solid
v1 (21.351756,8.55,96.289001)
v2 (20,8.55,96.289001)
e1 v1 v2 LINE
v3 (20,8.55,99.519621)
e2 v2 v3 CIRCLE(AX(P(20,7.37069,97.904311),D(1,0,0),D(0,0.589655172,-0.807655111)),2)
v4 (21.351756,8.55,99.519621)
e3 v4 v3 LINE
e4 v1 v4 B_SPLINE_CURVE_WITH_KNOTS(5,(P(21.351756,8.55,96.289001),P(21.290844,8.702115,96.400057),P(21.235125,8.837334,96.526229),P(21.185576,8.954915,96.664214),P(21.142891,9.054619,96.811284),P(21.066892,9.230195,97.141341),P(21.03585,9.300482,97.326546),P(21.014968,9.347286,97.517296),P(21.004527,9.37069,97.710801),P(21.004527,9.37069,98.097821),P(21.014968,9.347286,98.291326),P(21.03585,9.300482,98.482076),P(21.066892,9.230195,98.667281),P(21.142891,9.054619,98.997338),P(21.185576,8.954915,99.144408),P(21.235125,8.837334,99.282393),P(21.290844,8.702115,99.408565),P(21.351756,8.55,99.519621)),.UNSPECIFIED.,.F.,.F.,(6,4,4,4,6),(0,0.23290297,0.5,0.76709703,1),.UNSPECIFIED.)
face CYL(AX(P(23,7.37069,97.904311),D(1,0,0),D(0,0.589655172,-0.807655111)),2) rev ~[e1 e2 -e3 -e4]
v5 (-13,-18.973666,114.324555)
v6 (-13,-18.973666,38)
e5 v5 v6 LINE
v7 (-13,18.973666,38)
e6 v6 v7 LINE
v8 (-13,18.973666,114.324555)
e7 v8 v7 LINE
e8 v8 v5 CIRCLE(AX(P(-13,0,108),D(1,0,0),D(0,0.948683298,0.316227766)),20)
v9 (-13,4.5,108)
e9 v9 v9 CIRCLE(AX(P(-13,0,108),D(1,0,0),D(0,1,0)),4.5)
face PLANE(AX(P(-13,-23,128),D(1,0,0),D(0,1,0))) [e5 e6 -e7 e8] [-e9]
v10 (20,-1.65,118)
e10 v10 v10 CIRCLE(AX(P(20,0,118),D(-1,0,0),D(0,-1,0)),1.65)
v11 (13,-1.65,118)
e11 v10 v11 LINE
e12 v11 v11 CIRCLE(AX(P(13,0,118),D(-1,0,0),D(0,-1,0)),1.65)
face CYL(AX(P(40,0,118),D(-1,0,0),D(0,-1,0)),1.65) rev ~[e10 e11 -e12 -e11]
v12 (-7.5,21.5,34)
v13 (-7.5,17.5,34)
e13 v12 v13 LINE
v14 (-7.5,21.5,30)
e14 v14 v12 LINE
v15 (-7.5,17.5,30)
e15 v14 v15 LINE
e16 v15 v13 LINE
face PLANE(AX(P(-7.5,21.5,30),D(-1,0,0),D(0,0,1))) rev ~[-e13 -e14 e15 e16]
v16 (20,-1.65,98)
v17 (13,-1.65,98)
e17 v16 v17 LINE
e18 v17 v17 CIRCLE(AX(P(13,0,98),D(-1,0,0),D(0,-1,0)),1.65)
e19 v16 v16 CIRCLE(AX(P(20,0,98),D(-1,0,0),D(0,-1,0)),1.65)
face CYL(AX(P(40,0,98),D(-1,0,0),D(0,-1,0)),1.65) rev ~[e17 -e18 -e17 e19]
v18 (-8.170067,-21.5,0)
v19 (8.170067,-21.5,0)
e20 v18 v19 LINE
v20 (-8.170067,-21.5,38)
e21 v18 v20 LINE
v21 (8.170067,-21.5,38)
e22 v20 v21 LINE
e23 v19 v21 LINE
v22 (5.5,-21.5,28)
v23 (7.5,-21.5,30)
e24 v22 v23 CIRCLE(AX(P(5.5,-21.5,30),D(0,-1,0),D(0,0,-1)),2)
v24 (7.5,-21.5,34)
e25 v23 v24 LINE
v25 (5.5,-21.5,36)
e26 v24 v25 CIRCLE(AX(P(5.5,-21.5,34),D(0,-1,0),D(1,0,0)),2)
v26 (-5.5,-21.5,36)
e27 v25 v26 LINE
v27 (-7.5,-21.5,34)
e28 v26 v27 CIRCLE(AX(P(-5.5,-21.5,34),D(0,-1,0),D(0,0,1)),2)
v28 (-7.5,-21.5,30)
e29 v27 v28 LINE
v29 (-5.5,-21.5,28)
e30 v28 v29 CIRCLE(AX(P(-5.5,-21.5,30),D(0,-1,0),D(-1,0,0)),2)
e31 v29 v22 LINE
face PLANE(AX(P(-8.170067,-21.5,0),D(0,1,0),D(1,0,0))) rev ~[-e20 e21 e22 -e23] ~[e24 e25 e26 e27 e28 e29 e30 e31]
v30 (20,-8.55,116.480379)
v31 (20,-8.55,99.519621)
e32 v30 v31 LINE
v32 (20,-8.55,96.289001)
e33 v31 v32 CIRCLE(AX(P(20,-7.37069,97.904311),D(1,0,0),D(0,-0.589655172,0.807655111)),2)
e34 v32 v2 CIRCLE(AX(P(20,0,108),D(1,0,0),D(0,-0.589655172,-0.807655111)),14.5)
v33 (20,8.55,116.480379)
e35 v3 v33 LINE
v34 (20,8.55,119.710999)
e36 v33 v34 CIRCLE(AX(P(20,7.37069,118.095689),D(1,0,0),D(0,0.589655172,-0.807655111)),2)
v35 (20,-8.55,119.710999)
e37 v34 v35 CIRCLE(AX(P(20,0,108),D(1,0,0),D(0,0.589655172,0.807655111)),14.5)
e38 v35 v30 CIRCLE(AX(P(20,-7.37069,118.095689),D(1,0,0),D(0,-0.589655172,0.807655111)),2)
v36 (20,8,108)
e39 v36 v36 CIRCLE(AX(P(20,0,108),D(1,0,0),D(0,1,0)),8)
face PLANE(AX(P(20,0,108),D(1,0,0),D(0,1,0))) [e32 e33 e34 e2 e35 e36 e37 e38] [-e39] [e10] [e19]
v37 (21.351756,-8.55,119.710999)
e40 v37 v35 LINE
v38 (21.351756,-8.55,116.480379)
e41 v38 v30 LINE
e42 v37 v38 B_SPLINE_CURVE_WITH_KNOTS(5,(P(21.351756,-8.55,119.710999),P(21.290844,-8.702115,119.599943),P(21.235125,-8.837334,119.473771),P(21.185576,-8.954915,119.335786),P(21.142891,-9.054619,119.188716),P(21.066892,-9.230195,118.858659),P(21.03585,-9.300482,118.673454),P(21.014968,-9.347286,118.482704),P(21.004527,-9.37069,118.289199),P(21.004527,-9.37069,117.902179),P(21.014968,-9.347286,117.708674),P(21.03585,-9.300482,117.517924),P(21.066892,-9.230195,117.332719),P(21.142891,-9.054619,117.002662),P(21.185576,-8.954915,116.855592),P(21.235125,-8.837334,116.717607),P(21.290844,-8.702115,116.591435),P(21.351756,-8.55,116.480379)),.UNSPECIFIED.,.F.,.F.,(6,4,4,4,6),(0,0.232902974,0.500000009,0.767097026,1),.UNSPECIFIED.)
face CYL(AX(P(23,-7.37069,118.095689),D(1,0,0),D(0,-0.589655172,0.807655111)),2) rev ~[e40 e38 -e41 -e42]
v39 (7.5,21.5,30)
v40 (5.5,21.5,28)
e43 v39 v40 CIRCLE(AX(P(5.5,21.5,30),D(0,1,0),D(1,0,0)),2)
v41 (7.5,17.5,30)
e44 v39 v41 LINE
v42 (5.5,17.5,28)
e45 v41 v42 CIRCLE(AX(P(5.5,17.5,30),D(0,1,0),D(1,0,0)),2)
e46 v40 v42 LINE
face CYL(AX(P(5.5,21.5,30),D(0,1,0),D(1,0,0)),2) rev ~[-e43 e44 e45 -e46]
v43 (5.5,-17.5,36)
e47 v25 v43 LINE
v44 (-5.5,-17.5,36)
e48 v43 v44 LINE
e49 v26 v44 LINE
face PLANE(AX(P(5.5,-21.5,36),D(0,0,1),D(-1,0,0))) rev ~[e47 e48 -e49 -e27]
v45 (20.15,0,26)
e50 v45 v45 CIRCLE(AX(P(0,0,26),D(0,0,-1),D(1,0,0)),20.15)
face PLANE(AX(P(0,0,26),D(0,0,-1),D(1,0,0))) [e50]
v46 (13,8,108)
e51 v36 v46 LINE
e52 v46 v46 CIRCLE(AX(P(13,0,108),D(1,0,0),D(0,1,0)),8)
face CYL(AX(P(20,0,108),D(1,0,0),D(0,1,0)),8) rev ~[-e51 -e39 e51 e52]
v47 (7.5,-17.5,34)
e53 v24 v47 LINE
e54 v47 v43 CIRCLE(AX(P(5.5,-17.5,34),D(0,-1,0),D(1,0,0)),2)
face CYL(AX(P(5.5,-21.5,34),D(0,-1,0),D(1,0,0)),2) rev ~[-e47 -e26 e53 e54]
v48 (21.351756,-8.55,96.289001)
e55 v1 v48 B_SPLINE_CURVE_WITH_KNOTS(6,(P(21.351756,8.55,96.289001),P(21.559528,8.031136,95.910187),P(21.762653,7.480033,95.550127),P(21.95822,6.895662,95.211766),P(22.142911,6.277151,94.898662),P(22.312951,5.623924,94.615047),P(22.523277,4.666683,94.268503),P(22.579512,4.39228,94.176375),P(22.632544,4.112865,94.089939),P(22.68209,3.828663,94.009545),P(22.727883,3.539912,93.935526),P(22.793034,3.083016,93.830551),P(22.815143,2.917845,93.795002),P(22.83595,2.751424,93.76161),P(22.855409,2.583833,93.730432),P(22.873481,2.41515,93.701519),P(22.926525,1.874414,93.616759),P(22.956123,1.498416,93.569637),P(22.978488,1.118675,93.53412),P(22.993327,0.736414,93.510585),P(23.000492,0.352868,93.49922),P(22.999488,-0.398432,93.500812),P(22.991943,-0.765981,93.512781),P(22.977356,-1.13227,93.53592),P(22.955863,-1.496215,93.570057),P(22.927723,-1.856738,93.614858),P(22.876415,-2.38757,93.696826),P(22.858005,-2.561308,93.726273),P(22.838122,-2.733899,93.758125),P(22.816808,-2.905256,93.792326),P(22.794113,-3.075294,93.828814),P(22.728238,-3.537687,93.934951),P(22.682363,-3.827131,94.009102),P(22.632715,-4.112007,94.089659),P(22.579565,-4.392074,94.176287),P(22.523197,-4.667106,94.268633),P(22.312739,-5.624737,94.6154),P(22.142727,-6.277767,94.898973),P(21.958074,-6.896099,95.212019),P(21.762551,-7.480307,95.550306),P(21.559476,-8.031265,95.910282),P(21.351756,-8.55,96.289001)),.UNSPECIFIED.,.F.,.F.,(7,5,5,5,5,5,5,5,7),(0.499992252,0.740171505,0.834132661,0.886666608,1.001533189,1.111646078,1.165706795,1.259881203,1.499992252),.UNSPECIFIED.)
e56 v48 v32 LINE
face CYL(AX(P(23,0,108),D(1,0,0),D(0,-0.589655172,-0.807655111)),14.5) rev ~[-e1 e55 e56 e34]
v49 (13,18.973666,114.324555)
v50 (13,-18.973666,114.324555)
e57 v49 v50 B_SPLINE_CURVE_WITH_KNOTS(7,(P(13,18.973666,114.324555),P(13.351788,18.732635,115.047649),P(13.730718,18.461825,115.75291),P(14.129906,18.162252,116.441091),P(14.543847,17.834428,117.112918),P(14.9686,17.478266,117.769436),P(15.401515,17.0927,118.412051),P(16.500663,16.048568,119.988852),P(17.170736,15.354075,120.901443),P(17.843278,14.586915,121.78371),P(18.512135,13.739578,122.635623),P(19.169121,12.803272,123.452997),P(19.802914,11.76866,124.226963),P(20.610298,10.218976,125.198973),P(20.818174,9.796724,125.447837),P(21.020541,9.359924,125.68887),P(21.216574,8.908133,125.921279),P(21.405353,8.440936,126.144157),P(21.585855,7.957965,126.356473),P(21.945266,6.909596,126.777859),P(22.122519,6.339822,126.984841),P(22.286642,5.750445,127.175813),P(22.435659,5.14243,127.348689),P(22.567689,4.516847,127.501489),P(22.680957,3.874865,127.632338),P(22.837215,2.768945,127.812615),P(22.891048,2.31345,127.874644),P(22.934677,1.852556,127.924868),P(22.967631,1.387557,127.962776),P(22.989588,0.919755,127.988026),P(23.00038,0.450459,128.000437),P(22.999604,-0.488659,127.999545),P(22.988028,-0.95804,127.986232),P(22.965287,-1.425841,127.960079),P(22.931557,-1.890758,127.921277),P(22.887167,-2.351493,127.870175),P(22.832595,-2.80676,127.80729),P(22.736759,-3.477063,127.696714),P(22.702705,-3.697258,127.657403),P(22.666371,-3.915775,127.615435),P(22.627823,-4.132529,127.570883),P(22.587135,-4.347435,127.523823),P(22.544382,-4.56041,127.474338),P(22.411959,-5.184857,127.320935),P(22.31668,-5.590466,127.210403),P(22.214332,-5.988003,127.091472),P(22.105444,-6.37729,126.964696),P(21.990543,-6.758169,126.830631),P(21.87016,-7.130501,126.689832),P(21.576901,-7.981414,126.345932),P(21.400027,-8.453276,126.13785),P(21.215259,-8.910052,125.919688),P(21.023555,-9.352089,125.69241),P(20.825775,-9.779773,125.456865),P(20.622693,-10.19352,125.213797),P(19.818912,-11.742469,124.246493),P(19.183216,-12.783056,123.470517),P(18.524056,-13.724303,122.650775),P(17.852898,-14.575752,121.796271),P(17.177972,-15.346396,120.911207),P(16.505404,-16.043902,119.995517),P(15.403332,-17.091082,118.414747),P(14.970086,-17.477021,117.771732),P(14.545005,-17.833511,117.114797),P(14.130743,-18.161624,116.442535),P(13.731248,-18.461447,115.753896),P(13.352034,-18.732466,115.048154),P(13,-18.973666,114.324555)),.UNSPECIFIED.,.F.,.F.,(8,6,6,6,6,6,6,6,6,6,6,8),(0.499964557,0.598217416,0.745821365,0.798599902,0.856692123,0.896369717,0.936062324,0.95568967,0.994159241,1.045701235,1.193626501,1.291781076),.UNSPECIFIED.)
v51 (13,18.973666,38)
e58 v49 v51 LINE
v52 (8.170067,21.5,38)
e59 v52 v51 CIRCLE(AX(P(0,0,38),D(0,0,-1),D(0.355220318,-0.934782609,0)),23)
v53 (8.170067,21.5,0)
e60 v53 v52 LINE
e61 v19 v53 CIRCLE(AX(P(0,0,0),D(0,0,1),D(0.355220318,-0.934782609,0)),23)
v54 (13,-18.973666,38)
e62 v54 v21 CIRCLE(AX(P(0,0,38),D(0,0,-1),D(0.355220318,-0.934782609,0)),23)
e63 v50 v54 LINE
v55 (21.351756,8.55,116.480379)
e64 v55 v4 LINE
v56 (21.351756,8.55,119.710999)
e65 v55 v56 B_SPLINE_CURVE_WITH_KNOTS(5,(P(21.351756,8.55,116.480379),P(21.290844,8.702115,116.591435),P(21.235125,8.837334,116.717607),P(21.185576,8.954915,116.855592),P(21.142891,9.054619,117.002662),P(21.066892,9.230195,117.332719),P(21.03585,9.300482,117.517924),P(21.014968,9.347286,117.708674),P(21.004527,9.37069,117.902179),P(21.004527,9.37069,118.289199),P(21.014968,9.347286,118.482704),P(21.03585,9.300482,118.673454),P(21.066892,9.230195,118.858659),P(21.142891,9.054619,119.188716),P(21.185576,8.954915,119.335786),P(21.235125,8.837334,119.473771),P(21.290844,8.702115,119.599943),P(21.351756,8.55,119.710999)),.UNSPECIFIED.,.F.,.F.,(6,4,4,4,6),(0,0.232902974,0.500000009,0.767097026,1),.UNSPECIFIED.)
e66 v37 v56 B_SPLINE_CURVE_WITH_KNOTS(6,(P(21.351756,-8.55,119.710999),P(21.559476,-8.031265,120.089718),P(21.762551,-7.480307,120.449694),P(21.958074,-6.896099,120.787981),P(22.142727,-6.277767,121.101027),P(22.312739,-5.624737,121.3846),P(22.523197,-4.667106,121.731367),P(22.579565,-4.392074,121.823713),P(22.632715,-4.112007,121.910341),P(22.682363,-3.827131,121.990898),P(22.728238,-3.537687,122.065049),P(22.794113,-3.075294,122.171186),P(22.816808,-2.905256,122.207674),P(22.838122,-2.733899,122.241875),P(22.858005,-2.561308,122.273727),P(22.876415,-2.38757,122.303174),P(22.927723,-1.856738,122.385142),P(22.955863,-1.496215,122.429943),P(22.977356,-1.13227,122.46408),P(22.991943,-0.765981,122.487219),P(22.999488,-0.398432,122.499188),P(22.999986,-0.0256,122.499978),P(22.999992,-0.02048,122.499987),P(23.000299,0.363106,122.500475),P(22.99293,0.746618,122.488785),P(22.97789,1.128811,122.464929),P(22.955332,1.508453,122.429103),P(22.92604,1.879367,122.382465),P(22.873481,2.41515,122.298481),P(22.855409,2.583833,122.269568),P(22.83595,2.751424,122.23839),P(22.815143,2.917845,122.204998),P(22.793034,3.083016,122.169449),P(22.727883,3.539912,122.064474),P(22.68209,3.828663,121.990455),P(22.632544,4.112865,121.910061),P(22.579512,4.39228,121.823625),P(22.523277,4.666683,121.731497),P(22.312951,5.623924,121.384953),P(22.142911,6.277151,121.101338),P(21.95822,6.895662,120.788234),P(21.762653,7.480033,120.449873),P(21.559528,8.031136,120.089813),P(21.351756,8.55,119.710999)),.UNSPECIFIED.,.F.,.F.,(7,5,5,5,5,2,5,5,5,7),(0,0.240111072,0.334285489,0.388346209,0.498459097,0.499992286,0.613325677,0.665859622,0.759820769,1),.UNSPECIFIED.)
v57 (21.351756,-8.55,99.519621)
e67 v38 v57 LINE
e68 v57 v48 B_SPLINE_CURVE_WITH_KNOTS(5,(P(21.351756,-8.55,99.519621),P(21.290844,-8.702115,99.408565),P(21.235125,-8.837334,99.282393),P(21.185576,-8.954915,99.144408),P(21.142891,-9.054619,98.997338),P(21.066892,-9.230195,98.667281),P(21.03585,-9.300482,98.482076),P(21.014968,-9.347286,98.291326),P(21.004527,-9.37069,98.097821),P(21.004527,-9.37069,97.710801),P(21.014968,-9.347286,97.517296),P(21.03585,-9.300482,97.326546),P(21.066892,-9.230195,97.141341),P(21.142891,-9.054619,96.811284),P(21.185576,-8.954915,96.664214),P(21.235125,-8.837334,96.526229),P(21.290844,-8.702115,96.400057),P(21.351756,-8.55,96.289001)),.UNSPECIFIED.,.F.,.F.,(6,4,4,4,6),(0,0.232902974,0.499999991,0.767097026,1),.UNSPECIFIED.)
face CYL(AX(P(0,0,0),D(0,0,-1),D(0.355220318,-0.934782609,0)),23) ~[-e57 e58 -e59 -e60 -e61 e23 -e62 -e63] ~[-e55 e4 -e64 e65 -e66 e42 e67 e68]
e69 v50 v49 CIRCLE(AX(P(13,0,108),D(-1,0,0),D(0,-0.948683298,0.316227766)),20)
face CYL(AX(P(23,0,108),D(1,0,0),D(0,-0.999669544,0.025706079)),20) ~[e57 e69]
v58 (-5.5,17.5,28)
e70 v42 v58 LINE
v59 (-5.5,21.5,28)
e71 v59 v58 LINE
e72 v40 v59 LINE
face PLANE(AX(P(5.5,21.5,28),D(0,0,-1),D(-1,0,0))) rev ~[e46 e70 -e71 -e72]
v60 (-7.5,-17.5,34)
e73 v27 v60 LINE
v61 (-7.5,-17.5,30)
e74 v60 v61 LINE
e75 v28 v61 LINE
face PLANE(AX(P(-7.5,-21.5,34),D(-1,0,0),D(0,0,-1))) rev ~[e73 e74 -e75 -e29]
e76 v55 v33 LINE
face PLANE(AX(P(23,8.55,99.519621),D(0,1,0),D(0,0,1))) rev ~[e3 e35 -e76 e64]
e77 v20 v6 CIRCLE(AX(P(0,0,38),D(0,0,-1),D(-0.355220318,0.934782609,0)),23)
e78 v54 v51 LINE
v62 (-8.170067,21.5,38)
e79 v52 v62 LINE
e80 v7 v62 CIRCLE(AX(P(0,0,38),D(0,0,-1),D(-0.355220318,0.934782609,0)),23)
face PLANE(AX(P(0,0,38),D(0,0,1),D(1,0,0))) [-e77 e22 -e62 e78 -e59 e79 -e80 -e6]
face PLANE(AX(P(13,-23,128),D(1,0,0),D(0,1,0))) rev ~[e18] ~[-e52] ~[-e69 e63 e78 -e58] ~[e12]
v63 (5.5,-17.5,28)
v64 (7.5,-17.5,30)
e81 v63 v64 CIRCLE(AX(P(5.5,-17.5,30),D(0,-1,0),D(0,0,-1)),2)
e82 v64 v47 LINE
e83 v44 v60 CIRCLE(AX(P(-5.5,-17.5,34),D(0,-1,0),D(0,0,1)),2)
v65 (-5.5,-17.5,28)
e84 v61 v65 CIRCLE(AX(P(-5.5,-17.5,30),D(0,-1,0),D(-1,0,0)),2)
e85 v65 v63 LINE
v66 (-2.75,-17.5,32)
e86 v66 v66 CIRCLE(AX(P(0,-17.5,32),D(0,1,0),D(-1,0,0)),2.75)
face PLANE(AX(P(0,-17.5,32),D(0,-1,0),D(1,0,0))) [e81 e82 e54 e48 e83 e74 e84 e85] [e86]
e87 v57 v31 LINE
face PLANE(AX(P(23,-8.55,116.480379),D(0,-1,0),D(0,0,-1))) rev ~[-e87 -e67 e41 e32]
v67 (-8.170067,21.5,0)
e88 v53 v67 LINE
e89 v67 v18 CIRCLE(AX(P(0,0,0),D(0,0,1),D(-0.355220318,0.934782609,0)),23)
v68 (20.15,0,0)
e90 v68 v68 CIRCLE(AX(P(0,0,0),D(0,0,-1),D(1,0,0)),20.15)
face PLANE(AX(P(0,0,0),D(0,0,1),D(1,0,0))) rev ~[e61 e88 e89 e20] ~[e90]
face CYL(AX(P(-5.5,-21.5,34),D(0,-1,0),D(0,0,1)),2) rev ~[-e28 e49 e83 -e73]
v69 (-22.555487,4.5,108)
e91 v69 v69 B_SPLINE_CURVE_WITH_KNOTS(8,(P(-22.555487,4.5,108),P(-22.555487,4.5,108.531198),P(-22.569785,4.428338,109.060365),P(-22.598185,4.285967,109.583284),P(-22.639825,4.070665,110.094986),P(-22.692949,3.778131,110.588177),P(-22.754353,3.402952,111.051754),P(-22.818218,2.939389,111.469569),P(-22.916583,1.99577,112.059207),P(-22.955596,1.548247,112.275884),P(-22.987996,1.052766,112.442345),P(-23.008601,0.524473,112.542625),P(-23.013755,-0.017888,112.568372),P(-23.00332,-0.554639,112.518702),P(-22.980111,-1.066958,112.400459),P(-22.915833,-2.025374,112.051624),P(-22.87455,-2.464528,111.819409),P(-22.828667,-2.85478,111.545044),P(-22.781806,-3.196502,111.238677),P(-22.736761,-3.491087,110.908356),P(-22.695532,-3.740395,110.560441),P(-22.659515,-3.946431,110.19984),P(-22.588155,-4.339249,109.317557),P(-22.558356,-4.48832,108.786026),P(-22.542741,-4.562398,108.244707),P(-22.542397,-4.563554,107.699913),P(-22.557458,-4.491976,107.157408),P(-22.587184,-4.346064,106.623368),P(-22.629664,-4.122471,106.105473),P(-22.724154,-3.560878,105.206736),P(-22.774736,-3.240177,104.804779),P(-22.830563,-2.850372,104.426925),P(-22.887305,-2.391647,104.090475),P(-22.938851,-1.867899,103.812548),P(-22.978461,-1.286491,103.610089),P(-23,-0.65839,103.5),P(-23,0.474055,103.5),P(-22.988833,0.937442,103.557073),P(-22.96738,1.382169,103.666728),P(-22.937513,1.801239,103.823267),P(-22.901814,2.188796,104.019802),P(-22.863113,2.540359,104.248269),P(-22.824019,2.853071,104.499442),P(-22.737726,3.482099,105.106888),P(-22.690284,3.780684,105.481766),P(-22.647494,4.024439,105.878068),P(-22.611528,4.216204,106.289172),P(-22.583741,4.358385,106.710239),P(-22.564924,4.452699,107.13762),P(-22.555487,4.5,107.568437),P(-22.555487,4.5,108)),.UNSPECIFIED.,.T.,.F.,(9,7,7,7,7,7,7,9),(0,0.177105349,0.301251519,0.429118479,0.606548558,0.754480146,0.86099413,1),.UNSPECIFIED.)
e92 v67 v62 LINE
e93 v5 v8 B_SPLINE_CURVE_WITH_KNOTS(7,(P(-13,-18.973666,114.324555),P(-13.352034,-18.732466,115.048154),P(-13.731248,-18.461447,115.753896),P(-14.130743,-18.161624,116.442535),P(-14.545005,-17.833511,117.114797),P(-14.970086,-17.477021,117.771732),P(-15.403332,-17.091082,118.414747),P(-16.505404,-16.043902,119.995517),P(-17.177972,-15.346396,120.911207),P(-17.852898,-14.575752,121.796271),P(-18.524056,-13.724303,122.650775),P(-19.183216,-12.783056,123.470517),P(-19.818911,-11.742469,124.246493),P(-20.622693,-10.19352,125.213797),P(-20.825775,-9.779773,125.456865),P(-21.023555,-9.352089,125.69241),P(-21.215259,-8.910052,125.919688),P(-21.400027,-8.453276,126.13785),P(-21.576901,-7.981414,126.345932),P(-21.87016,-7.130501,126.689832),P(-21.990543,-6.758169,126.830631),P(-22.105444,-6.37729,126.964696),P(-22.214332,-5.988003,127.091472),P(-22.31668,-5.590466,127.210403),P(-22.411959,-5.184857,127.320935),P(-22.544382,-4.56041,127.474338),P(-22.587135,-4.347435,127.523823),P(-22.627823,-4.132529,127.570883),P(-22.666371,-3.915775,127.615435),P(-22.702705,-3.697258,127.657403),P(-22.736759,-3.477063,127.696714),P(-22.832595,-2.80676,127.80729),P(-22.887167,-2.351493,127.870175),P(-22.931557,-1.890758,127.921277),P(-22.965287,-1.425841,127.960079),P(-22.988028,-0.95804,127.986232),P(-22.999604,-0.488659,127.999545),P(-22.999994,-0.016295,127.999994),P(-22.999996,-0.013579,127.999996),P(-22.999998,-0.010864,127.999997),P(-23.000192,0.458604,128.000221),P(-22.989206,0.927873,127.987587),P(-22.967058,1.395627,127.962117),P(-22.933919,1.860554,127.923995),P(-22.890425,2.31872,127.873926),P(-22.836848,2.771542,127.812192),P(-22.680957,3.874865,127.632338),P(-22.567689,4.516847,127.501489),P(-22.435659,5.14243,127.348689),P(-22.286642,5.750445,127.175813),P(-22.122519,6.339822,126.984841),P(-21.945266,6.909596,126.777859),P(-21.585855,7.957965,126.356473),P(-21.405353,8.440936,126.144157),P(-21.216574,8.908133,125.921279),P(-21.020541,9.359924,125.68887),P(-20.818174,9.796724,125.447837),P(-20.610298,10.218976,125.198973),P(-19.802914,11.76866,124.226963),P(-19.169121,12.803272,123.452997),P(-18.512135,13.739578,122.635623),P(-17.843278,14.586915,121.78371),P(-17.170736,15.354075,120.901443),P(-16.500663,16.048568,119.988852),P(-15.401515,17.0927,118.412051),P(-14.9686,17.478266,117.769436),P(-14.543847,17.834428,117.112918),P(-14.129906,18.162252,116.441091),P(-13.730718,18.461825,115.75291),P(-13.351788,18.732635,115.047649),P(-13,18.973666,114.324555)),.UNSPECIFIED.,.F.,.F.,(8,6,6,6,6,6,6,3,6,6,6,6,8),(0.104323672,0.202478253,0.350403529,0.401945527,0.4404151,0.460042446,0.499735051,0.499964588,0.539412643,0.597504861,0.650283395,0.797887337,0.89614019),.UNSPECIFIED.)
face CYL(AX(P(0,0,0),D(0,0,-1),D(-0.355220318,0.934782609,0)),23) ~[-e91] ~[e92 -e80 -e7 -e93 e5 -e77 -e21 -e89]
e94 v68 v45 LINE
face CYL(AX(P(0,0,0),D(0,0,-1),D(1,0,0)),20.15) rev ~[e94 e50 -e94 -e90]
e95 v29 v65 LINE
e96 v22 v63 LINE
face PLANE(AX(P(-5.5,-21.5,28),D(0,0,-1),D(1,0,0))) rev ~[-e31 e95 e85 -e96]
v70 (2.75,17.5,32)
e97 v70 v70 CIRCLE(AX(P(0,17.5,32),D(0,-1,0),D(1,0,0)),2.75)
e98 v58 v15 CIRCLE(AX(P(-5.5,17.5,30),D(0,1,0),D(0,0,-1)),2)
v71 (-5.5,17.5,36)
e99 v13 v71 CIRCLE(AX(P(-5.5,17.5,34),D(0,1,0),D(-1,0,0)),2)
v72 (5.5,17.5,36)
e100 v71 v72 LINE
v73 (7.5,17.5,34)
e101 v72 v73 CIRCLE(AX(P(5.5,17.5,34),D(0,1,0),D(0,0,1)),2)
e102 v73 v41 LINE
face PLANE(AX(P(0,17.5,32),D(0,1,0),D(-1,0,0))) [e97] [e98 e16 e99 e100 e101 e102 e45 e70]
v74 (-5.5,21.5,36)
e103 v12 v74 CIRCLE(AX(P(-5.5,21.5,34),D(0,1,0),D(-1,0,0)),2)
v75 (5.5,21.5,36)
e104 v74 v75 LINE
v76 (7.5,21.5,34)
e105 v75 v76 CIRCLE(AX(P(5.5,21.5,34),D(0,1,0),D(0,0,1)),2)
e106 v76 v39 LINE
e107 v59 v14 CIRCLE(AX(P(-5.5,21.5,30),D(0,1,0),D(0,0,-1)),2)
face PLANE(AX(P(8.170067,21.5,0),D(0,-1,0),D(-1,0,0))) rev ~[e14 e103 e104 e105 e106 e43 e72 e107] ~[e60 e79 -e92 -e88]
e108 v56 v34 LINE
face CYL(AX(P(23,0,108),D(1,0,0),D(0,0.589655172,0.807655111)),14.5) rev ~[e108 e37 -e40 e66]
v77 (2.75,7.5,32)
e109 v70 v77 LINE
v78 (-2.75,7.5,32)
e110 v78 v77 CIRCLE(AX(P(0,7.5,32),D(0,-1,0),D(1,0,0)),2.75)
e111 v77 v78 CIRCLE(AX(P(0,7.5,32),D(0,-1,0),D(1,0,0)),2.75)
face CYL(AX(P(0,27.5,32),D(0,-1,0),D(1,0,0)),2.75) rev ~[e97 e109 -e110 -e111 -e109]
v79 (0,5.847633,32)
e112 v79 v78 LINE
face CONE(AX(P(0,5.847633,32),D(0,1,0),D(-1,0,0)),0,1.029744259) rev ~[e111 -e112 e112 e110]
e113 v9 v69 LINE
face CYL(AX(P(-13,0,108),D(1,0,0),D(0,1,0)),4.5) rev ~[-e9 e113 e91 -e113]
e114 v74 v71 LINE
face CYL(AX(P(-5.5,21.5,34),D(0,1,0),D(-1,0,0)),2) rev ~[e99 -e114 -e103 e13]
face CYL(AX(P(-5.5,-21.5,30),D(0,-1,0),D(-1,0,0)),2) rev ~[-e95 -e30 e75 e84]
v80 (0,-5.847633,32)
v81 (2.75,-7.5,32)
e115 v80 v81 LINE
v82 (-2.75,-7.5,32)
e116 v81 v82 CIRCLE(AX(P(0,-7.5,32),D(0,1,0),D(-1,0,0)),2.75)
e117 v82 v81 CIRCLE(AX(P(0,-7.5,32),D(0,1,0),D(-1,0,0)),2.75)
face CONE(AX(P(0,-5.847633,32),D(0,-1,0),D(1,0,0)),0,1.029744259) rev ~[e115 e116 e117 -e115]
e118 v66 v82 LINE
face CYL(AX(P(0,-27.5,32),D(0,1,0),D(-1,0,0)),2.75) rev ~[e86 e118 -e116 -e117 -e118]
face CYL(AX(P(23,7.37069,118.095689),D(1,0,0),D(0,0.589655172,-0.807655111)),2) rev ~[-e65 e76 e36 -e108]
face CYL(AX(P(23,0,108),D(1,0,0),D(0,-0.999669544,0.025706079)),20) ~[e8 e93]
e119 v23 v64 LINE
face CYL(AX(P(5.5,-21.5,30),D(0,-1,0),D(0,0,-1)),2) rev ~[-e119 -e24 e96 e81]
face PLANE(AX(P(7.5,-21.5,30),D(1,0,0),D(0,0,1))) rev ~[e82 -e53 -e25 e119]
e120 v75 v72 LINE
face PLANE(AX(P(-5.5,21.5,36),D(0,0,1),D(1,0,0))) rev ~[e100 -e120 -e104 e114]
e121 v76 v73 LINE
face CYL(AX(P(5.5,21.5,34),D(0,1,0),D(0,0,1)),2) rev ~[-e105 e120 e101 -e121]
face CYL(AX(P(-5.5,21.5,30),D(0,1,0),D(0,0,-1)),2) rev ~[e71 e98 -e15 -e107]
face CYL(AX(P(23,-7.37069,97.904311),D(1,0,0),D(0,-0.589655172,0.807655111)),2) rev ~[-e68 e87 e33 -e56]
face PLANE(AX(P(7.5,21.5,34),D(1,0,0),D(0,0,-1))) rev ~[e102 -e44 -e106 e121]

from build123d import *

# Parameters (mm, degrees)
F1_DEPTH  = 128
F3_W      = 26
F3_H      = 46
F4_DEPTH  = 90
F6_DEPTH  = 46.001
F8_DEPTH  = 3
F10_D     = 3.3
F10_DEPTH = 20
F10_TIP   = 0.9914200214
F11_R     = 8
F12_DEPTH = 25
F13_R     = 4.5
F14_DEPTH = 10.0010001
F15_R     = 20.15
F16_DEPTH = 26
F18_DEPTH = 4
F20_D     = 5.5
F20_DEPTH = 10
F20_TIP   = 1.6523667023
F22_DEPTH = 4
F24_D     = 5.5
F24_DEPTH = 10
F24_TIP   = 1.6523667023


with BuildPart() as f1:
    # F0 (on Top) → F1 (new body)
    with BuildSketch(Plane.XY):
        with BuildLine():
            Line((8.1700673192, 21.5), (-8.1700673192, 21.5))
            ThreePointArc((-8.1700673192, 21.5), (-23, 0), (-8.1700673192, -21.5))
            Line((-8.1700673192, -21.5), (8.1700673192, -21.5))
            ThreePointArc((8.1700673192, -21.5), (23, 0), (8.1700673192, 21.5))
        make_face()
    extrude(amount=F1_DEPTH)

    # F3 (on face) → F4 (cut)
    with BuildSketch(Plane.XY.offset(128)):
        Rectangle(F3_W, F3_H)
    extrude(amount=-F4_DEPTH, mode=Mode.SUBTRACT)

    # F5 (on offset) → F6 (cut, through all)
    with BuildSketch(Plane.YZ.offset(23)):
        with BuildLine():
            ThreePointArc((-19.9933908829, 108.5141215848), (-0.0190112138, 127.9999909643), (19.9923773451, 108.5521305014))
            Line((19.9923773451, 108.5521305014), (24.1833440959, 131.3719953258))
            Line((24.1833440959, 131.3719953258), (-19.9933908829, 131.3719953258))
            Line((-19.9933908829, 131.3719953258), (-19.9933908829, 108.5141215848))
        make_face()
    extrude(amount=-F6_DEPTH, mode=Mode.SUBTRACT)

    # F7 (on offset) → F8 (cut)
    with BuildSketch(Plane.YZ.offset(23)):
        with BuildLine():
            ThreePointArc((-8.55, 99.5196213389), (-9.3706896552, 97.9043111178), (-8.55, 96.2890008966))
            ThreePointArc((-8.55, 96.2890008966), (0, 93.5), (8.55, 96.2890008966))
            ThreePointArc((8.55, 96.2890008966), (9.3706896552, 97.9043111178), (8.55, 99.5196213389))
            Line((8.55, 99.5196213389), (8.55, 116.4803786611))
            ThreePointArc((8.55, 116.4803786611), (9.3706896552, 118.0956888822), (8.55, 119.7109991034))
            ThreePointArc((8.55, 119.7109991034), (0, 122.5), (-8.55, 119.7109991034))
            ThreePointArc((-8.55, 119.7109991034), (-9.3706896552, 118.0956888822), (-8.55, 116.4803786611))
            Line((-8.55, 116.4803786611), (-8.55, 99.5196213389))
        make_face()
    extrude(amount=-F8_DEPTH, mode=Mode.SUBTRACT)

    # F10
    with Locations(Plane.YZ.offset(20)):
        with Locations((0, 118), (0, 98)):
            Hole(F10_D / 2, depth=F10_DEPTH)
            with Locations((0, 0, -(F10_DEPTH + F10_TIP / 2))):  # 118° drill point
                Cone(0, F10_D / 2, F10_TIP, mode=Mode.SUBTRACT)

    # F11 (on face) → F12 (cut)
    with BuildSketch(Plane.YZ.offset(20)):
        with Locations((0, 108)):
            Circle(F11_R)
    extrude(amount=-F12_DEPTH, mode=Mode.SUBTRACT)

    # F13 (on face) → F14 (cut, through all)
    with BuildSketch(Plane.YZ.offset(-13)):
        with Locations((0, 108)):
            Circle(F13_R)
    extrude(amount=-F14_DEPTH, mode=Mode.SUBTRACT)

    # F15 (on face) → F16 (cut)
    with BuildSketch(Plane(origin=(0, 0, 0), x_dir=(1, 0, 0), z_dir=(0, 0, -1))):
        Circle(F15_R)
    extrude(amount=-F16_DEPTH, mode=Mode.SUBTRACT)

    # F17 (on face) → F18 (cut)
    with BuildSketch(Plane.XZ.offset(21.5)):
        with BuildLine():
            Line((5.5, 36), (-5.5, 36))
            ThreePointArc((-5.5, 36), (-6.9142135624, 35.4142135624), (-7.5, 34))
            Line((-7.5, 34), (-7.5, 30))
            ThreePointArc((-7.5, 30), (-6.9142135624, 28.5857864376), (-5.5, 28))
            Line((-5.5, 28), (5.5, 28))
            ThreePointArc((5.5, 28), (6.9142135624, 28.5857864376), (7.5, 30))
            Line((7.5, 30), (7.5, 34))
            ThreePointArc((7.5, 34), (6.9142135624, 35.4142135624), (5.5, 36))
        make_face()
    extrude(amount=-F18_DEPTH, mode=Mode.SUBTRACT)

    # F20
    with Locations(Plane.XZ.offset(17.5)):
        with Locations((0, 32)):
            Hole(F20_D / 2, depth=F20_DEPTH)
            with Locations((0, 0, -(F20_DEPTH + F20_TIP / 2))):  # 118° drill point
                Cone(0, F20_D / 2, F20_TIP, mode=Mode.SUBTRACT)

    # F21 (on face) → F22 (cut)
    with BuildSketch(Plane(origin=(0, 21.5, 0), x_dir=(-1, 0, 0), z_dir=(0, 1, 0))):
        with BuildLine():
            Line((5.5, 36), (-5.5, 36))
            ThreePointArc((-5.5, 36), (-6.9142135624, 35.4142135624), (-7.5, 34))
            Line((-7.5, 34), (-7.5, 30))
            ThreePointArc((-7.5, 30), (-6.9142135624, 28.5857864376), (-5.5, 28))
            Line((-5.5, 28), (5.5, 28))
            ThreePointArc((5.5, 28), (6.9142135624, 28.5857864376), (7.5, 30))
            Line((7.5, 30), (7.5, 34))
            ThreePointArc((7.5, 34), (6.9142135624, 35.4142135624), (5.5, 36))
        make_face()
    extrude(amount=-F22_DEPTH, mode=Mode.SUBTRACT)

    # F24
    with Locations(Plane(origin=(0, 17.5, 0), x_dir=(-1, 0, 0), z_dir=(0, 1, 0))):
        with Locations((0, 32)):
            Hole(F24_D / 2, depth=F24_DEPTH)
            with Locations((0, 0, -(F24_DEPTH + F24_TIP / 2))):  # 118° drill point
                Cone(0, F24_D / 2, F24_TIP, mode=Mode.SUBTRACT)


solid = f1.part
